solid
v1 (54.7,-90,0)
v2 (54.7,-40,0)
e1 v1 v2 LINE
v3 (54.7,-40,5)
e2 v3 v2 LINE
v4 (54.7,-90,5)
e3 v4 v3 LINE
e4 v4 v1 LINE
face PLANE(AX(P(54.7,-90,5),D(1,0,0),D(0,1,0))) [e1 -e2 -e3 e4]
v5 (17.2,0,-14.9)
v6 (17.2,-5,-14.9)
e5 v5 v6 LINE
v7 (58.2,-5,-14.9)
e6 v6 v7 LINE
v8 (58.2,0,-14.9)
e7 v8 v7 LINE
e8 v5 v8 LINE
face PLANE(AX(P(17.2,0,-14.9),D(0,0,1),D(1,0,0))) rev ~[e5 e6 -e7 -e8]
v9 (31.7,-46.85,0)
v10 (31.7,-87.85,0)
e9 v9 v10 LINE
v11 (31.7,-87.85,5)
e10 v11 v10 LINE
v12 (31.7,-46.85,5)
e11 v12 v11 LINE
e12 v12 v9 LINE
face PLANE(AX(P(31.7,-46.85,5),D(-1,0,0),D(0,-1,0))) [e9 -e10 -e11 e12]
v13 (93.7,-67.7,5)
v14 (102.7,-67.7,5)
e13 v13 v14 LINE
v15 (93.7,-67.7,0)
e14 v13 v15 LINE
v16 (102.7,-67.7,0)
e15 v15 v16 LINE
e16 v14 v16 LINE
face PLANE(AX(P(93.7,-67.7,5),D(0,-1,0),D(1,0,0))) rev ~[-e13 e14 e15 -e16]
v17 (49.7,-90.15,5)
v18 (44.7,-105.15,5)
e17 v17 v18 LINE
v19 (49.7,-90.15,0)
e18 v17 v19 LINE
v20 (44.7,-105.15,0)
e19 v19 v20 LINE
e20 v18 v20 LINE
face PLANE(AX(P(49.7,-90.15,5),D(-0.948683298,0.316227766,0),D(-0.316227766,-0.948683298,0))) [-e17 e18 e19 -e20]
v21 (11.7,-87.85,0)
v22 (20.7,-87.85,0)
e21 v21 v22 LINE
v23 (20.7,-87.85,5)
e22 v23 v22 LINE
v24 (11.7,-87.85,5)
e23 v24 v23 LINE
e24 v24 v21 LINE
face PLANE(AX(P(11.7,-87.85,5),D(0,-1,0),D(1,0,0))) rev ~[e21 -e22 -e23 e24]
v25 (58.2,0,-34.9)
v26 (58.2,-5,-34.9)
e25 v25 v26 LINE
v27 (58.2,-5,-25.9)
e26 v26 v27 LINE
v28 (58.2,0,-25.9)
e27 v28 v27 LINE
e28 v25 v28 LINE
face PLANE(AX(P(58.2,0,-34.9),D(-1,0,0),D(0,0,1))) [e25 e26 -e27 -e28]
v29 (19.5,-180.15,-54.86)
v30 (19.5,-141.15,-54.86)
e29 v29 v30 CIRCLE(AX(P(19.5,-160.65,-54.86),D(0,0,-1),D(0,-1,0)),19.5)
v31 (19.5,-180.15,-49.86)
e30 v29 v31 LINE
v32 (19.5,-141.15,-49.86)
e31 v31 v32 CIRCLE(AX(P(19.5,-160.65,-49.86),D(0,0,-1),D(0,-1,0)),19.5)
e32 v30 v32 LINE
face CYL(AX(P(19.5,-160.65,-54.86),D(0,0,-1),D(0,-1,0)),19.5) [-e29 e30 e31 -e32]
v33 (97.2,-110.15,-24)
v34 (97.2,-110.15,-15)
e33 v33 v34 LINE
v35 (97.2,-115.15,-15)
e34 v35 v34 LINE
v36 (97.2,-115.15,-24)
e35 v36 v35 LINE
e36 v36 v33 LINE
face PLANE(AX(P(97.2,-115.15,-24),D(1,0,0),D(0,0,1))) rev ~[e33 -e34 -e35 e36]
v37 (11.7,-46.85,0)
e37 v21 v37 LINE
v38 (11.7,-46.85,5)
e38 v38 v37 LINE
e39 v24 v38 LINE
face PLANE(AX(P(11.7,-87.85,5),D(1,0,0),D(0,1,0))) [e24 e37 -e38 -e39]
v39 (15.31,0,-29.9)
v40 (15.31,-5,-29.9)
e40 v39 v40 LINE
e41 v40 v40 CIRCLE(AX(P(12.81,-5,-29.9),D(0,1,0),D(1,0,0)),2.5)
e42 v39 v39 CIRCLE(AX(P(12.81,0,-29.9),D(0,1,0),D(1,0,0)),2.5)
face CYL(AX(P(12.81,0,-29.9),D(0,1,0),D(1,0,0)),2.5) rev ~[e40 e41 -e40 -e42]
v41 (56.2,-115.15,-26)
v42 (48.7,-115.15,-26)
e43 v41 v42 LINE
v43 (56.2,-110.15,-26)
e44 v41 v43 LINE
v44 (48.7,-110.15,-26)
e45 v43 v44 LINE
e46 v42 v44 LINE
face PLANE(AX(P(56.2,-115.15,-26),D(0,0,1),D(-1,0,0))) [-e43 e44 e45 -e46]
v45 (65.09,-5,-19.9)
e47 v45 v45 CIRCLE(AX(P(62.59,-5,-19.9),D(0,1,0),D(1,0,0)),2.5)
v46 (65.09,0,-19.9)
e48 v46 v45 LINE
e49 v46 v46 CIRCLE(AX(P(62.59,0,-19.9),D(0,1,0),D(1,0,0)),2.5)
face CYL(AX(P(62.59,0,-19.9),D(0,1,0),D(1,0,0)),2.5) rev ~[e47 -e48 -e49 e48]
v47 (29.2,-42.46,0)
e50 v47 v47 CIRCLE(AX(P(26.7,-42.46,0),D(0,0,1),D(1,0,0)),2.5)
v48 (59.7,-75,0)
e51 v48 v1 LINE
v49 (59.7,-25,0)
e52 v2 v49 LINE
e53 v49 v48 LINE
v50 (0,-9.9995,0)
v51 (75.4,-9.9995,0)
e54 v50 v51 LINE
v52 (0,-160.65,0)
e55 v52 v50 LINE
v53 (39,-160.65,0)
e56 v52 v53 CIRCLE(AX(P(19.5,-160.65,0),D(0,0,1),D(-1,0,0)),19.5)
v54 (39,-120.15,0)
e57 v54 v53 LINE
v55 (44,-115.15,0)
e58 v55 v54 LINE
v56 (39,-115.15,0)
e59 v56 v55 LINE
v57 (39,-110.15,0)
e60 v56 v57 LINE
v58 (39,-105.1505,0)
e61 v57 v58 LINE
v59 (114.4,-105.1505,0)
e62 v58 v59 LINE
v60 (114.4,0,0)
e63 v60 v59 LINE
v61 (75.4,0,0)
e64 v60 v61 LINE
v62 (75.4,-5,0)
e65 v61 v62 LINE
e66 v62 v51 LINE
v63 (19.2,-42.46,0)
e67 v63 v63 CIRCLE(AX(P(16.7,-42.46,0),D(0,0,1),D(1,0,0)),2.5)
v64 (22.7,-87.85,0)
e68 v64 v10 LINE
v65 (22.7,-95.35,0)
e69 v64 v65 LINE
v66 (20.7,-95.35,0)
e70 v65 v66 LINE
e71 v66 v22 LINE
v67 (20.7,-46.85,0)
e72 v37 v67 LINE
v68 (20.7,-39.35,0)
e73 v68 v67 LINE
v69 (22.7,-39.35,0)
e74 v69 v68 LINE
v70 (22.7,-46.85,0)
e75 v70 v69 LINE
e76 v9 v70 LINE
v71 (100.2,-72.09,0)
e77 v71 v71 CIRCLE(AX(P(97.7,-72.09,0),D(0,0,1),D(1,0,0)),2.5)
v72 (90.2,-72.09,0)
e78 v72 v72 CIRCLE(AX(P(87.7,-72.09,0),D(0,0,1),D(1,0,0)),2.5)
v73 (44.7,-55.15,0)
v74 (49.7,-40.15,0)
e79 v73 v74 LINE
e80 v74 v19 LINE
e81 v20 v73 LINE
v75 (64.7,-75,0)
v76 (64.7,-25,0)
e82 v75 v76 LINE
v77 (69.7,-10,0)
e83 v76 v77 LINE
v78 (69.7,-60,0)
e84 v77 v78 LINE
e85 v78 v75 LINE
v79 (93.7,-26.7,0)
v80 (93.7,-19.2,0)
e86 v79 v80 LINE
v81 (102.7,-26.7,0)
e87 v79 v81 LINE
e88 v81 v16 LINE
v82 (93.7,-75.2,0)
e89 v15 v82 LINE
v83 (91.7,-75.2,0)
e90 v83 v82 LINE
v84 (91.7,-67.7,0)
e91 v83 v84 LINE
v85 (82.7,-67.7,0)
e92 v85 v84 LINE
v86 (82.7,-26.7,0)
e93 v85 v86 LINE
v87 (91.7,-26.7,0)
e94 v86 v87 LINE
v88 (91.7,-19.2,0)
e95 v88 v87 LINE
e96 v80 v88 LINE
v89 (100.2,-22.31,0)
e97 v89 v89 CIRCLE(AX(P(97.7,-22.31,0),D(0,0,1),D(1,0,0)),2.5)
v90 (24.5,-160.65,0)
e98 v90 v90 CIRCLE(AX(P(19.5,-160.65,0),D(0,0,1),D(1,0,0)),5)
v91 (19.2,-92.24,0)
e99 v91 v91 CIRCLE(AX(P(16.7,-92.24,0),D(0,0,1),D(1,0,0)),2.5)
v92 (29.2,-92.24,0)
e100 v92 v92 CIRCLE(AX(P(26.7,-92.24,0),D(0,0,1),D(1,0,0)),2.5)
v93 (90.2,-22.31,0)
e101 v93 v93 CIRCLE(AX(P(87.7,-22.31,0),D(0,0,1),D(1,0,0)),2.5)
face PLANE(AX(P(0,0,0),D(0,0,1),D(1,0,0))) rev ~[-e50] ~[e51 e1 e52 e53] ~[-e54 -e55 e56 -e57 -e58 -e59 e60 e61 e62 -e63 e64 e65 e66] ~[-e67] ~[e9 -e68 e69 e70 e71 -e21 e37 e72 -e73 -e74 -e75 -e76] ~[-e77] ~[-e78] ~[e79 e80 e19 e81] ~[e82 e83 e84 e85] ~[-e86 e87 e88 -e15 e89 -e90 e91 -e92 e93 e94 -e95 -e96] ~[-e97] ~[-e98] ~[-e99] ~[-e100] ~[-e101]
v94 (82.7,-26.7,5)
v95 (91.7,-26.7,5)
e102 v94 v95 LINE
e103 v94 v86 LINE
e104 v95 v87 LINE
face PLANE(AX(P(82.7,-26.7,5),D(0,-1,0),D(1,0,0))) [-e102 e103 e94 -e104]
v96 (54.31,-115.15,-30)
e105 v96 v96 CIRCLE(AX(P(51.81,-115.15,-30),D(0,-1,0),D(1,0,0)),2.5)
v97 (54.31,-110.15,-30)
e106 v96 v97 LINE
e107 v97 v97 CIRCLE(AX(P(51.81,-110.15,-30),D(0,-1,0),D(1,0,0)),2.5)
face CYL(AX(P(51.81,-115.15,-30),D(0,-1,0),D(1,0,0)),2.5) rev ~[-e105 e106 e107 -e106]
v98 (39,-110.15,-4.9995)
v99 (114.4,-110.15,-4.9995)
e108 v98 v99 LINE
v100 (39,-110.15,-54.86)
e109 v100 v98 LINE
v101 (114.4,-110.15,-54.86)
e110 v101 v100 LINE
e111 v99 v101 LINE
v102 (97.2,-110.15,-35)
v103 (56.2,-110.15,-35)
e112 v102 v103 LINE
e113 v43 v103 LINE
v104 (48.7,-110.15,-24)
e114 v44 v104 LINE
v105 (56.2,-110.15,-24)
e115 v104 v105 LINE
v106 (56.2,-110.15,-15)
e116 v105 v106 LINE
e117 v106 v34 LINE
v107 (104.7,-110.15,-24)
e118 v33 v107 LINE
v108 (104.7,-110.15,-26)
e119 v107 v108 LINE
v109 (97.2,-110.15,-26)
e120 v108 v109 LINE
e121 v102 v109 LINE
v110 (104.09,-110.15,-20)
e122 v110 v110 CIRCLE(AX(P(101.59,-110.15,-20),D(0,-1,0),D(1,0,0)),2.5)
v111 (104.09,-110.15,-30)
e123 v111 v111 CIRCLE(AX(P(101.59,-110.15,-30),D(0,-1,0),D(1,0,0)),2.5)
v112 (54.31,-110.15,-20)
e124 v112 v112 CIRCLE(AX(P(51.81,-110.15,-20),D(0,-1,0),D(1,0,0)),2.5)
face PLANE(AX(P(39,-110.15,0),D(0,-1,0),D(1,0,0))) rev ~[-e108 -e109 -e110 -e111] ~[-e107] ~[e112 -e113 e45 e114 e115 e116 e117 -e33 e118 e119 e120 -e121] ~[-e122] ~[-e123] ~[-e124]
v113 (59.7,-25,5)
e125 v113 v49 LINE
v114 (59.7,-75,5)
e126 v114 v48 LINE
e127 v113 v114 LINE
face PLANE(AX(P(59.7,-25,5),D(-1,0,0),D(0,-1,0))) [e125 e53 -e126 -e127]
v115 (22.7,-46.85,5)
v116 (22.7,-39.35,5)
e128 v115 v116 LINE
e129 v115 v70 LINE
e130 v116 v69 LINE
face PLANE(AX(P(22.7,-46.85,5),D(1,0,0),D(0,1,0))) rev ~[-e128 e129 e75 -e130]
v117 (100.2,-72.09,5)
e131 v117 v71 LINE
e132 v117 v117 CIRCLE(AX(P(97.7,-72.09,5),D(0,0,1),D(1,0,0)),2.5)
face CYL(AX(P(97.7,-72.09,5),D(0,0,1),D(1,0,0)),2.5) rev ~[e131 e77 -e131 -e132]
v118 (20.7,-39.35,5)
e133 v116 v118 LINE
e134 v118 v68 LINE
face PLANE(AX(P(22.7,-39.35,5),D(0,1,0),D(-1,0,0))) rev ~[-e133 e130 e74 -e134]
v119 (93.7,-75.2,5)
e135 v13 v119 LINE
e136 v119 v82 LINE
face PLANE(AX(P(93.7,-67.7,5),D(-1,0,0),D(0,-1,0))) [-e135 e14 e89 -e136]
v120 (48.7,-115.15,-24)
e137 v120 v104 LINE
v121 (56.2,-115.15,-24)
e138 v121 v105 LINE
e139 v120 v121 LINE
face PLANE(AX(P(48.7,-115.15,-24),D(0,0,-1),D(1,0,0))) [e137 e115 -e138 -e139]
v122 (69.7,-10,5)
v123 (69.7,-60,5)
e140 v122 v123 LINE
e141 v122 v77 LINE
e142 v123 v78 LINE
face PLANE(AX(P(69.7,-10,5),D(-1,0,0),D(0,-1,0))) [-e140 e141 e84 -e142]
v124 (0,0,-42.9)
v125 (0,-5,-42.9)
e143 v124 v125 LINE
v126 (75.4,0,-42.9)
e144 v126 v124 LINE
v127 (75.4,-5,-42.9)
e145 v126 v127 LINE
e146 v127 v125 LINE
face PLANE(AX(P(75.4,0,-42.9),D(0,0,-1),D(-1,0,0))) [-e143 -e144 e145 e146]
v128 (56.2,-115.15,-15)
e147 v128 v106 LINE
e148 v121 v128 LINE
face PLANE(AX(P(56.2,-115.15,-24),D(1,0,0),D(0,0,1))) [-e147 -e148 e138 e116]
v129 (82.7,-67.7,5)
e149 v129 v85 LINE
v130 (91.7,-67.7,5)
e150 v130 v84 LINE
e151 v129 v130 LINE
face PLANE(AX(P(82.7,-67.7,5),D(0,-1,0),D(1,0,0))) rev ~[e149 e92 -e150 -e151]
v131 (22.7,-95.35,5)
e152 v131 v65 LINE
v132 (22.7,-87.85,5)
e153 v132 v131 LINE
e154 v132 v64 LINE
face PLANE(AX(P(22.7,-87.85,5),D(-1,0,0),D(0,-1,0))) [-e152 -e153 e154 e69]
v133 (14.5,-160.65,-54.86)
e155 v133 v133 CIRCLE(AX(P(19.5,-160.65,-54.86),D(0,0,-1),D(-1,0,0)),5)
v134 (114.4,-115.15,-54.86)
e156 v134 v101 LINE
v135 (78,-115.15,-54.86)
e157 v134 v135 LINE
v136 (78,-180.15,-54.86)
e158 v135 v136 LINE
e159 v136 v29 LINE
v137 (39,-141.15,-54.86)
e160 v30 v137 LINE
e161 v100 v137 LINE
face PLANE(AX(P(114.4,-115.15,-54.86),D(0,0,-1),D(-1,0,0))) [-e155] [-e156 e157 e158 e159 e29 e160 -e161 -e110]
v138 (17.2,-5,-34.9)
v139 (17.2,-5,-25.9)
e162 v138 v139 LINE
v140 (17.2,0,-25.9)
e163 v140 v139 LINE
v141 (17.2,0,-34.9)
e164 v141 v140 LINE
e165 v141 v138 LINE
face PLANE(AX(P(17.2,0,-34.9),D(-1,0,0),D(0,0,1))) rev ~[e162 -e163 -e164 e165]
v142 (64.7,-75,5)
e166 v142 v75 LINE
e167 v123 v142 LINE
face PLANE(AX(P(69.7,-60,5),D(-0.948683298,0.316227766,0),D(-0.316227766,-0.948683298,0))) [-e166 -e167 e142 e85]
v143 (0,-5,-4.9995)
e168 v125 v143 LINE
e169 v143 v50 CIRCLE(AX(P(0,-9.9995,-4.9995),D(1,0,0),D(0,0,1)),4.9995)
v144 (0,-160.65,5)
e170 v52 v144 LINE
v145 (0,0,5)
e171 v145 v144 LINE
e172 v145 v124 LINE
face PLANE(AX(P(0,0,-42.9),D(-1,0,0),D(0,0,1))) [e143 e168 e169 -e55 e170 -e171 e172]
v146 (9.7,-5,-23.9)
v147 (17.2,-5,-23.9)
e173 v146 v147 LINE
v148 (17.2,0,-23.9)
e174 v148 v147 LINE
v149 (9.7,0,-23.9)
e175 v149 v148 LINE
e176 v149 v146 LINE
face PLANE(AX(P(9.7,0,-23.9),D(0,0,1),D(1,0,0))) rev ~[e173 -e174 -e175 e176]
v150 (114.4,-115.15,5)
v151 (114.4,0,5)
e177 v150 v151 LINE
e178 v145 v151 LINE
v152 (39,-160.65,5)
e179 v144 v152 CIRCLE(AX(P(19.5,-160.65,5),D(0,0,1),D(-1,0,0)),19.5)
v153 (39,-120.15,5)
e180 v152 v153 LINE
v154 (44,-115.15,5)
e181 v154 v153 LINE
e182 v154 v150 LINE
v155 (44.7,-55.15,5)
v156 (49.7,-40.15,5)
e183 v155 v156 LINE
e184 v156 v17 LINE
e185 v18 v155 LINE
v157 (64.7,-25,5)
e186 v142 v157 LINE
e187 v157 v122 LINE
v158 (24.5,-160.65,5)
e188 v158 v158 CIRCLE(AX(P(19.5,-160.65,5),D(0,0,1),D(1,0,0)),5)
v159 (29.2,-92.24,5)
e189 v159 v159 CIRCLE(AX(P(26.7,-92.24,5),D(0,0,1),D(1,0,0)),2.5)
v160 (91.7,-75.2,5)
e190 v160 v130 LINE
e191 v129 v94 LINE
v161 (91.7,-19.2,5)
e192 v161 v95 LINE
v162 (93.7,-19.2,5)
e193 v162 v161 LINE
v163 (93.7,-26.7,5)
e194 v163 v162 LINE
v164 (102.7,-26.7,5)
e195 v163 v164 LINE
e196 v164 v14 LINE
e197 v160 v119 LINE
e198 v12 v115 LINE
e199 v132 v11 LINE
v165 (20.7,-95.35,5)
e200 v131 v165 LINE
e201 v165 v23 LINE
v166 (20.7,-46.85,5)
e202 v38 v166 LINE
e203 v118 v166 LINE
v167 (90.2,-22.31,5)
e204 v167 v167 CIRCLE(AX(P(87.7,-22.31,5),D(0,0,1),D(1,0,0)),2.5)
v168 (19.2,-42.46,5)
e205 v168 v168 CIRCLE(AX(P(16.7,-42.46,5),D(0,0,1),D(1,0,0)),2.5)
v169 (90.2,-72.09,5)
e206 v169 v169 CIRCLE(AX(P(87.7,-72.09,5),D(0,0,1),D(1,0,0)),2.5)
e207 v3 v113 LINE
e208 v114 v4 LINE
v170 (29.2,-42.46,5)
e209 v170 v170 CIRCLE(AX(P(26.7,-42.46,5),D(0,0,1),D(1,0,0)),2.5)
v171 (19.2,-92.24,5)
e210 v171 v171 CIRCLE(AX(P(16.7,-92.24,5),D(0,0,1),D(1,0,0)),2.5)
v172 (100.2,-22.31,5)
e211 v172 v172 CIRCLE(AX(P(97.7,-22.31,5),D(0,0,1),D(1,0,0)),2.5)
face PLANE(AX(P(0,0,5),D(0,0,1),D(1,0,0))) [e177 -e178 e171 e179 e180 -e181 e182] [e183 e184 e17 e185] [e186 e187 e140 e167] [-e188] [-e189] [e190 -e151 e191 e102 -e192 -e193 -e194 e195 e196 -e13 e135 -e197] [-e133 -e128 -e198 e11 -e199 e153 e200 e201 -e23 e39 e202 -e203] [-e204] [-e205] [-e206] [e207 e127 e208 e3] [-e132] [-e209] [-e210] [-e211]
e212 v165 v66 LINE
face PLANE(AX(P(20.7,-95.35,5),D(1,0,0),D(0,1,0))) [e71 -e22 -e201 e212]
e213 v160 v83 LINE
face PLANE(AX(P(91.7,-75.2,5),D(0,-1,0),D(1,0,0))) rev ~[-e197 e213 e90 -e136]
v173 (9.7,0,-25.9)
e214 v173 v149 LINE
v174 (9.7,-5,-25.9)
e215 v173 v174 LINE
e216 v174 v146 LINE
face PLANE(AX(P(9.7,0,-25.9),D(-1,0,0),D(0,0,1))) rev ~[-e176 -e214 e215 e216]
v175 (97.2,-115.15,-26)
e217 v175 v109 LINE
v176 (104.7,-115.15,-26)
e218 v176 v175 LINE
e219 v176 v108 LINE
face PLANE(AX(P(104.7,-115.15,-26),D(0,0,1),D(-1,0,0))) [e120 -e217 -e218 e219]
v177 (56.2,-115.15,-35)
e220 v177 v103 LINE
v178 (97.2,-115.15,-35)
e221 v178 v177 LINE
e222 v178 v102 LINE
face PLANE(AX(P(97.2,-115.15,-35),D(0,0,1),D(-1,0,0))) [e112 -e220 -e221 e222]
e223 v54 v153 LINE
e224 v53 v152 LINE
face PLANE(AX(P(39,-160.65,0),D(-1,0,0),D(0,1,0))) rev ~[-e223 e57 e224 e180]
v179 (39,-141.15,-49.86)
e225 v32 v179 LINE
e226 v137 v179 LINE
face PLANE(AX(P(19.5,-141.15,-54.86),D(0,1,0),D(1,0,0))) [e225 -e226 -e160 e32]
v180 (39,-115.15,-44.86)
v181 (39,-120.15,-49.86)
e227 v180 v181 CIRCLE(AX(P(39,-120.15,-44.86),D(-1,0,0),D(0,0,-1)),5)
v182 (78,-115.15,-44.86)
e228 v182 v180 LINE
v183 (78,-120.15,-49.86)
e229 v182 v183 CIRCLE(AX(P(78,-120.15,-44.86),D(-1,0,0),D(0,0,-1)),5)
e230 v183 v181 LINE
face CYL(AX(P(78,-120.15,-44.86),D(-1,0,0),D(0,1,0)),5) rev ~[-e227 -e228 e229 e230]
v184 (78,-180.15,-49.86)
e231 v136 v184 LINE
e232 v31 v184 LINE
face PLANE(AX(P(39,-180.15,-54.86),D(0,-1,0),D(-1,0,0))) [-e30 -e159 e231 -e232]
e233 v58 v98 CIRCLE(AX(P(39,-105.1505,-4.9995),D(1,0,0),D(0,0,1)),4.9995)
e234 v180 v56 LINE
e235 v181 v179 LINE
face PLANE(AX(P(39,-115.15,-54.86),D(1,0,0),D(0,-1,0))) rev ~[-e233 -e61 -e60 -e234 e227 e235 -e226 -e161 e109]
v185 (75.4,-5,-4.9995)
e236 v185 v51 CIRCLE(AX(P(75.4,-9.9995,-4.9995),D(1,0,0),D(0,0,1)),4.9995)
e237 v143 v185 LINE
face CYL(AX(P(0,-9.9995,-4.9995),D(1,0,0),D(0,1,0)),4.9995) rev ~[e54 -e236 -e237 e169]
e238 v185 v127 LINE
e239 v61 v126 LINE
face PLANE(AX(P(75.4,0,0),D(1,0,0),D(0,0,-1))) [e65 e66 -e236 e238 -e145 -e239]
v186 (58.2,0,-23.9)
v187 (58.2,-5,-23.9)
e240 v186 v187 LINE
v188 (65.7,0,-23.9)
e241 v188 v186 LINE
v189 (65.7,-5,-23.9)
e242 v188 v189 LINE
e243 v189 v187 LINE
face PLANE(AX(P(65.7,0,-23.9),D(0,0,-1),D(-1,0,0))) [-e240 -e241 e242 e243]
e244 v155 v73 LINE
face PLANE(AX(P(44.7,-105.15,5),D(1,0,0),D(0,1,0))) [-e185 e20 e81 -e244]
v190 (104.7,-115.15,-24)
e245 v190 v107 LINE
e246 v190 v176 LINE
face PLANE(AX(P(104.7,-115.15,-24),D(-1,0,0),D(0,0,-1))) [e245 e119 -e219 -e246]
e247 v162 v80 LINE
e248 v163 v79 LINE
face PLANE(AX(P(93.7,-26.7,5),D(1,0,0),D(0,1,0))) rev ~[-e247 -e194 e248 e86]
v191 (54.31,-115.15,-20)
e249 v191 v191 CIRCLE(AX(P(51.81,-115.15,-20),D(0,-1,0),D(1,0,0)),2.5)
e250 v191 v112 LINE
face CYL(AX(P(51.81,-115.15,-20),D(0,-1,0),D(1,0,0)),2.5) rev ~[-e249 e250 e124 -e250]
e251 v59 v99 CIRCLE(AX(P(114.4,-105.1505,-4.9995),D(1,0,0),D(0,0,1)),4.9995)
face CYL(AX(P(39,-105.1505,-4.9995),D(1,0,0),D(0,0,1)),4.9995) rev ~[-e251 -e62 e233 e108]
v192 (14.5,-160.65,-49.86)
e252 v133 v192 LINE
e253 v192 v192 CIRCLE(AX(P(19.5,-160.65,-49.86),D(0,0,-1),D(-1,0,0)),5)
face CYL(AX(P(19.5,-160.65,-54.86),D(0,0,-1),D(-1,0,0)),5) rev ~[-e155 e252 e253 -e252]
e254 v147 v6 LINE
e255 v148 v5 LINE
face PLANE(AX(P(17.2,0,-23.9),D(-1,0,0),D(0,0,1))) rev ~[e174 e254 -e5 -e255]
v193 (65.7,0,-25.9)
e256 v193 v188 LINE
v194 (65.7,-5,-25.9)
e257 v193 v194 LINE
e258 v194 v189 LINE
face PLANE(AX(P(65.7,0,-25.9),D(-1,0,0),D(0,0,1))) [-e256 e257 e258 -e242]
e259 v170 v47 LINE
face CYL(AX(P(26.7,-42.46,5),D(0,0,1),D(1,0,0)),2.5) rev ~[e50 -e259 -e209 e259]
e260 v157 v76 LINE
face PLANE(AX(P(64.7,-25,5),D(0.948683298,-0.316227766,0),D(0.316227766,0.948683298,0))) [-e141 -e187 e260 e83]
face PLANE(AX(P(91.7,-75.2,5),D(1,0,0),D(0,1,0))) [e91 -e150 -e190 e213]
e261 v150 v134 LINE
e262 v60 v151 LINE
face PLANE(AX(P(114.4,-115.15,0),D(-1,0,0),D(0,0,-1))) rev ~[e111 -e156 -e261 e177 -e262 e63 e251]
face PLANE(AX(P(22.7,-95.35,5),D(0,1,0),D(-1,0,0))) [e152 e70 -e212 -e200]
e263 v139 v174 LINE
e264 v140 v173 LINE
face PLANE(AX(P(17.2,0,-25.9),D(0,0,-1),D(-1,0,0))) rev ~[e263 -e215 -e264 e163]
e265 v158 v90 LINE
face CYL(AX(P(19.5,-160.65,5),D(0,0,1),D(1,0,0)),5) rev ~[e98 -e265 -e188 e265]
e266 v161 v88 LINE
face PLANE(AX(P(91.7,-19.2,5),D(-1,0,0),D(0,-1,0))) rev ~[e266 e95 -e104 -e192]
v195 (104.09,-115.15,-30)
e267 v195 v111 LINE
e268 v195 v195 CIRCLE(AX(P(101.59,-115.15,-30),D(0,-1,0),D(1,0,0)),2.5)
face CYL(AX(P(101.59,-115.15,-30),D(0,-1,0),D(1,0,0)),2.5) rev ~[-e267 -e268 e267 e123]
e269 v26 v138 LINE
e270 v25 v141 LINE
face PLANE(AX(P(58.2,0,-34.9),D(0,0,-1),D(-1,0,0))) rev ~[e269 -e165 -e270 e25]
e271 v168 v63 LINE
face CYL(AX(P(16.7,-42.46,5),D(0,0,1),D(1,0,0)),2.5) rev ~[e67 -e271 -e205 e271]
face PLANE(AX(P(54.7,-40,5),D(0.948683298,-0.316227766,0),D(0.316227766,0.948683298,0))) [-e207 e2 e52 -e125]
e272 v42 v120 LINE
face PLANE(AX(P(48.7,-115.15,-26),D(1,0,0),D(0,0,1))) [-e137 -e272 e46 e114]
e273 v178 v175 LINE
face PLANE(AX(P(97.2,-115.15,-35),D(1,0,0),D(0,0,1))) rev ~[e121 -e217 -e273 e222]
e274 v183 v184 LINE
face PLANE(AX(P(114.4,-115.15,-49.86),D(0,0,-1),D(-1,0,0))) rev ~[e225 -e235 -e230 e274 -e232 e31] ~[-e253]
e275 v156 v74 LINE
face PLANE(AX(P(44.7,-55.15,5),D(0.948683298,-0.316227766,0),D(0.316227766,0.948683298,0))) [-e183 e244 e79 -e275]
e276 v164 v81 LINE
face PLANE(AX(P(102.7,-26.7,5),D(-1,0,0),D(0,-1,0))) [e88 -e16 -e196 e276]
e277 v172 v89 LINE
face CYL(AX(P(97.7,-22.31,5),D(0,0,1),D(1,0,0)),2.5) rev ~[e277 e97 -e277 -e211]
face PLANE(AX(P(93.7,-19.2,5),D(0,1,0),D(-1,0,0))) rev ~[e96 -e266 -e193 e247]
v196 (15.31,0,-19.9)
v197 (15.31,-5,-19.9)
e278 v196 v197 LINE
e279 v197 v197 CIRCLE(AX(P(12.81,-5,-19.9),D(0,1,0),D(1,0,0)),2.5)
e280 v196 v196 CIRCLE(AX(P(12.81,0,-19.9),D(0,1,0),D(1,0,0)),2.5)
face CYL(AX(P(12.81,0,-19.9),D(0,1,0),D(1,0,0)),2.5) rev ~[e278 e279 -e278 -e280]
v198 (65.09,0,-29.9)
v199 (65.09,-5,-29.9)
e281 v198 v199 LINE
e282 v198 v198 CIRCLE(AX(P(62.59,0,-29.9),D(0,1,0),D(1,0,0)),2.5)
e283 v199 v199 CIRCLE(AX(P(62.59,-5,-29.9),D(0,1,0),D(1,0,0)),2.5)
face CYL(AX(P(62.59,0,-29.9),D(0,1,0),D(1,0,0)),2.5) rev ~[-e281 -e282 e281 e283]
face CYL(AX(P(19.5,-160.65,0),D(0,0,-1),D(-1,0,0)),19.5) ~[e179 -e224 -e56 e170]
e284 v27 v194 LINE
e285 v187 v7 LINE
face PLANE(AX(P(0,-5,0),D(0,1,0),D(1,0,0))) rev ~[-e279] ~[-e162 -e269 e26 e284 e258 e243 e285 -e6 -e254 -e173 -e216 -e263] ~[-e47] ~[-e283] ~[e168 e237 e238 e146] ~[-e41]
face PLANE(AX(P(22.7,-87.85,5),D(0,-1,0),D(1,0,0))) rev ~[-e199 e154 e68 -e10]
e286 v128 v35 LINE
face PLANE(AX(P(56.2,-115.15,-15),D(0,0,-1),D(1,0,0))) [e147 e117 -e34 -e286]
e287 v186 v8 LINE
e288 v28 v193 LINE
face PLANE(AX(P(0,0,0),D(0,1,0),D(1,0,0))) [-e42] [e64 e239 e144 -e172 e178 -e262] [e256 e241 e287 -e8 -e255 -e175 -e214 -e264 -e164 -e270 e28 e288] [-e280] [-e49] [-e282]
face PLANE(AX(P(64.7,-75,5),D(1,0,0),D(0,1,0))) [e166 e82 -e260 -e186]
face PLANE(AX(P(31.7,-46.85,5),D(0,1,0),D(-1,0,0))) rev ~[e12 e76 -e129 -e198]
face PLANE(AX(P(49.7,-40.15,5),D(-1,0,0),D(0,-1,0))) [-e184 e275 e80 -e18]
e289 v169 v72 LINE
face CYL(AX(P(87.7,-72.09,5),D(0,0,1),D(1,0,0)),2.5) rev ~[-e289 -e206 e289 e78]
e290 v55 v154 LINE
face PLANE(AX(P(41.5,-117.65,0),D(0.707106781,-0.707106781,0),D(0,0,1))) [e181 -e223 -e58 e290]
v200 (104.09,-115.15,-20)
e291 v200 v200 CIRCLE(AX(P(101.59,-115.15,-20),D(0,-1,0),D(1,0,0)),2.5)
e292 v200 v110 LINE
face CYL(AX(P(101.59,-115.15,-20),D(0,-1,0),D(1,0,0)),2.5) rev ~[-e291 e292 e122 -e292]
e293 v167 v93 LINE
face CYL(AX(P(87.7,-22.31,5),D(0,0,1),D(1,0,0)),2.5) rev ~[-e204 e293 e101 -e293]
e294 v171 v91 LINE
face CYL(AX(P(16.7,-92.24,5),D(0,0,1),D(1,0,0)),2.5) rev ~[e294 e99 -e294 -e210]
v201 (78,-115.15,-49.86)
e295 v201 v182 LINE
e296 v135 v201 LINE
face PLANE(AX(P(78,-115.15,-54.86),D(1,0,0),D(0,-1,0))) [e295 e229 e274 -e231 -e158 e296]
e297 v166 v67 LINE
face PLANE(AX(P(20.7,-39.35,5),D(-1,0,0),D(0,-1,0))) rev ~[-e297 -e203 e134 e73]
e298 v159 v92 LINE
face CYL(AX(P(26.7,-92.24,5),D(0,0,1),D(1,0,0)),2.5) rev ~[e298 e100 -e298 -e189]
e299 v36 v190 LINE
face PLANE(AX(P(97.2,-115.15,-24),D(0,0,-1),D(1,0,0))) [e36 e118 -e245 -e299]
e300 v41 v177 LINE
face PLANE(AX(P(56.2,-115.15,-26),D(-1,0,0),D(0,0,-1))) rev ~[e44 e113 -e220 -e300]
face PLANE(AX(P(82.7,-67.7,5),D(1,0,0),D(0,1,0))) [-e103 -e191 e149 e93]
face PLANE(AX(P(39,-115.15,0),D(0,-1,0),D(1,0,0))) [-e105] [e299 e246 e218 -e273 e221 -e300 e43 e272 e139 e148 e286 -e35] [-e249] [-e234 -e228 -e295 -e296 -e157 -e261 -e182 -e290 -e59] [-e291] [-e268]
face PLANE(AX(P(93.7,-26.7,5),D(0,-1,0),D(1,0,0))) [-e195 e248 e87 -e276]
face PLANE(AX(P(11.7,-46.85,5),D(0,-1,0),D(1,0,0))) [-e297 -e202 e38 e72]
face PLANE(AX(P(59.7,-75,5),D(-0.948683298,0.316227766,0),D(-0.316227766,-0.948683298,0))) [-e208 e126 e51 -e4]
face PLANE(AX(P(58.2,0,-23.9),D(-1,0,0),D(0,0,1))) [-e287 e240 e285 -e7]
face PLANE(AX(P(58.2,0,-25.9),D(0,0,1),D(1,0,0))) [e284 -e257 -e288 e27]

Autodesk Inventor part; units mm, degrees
ref_plane "YZ Plane" through (0, 0, 0) normal (1, 0, 0) x (0, 1, 0)
ref_plane "XZ Plane" through (0, 0, 0) normal (0, 1, 0) x (-1, 0, 0)
ref_plane "XY Plane" through (0, 0, 0) normal (0, 0, 1) x (1, 0, 0)
sketch "Esquisse1" plane through (0, 0, 0) normal (0, 0, 1) x (1, 0, 0)
  line L0 (10, 0) -> (104.4, 0)
  line L1 (114.4, -10) -> (114.4, -105.15)
  line L2 (104.4, -115.15) -> (49, -115.15)
  line L3 (0, -115.15) -> (0, -10)
  line L4 (0, -115.15) -> (0, -160.65)
  line L5 (39, -160.65) -> (39, -125.15)
  arc A0 (0, -160.65) -> (39, -160.65) centre (19.5, -160.65) ccw
  line L6 (0, -10) -> (0, 0)
  line L7 (10, 0) -> (0, 0)
  line L8 (114.4, -10) -> (114.4, 0)
  line L9 (114.4, 0) -> (104.4, 0)
  line L10 (114.4, -105.15) -> (114.4, -115.15)
  line L11 (104.4, -115.15) -> (114.4, -115.15)
  line L12 (39, -125.15) -> (39, -115.15)
  line L13 (49, -115.15) -> (39, -115.15)
  dimension "d0" = 39
  dimension "d1" = 114.4
  dimension "d2" = 45.5
  dimension "d3" = 115.15
extrude "Extrusion1" add sketch "Esquisse1" along normal blind 5
sketch "Esquisse2" plane through (0, 0, 5) normal (0, 0, 1) x (1, 0, 0)
  line L0 (31.7, -46.85) -> (31.7, -87.85)
  line L1 (11.7, -87.85) -> (11.7, -46.85)
  line L2 (102.7, -26.7) -> (102.7, -67.7)
  line L3 (82.7, -67.7) -> (82.7, -26.7)
  line L4 (0, 0) -> (0, -160.65) projected
  line L5 (114.4, -115.15) -> (114.4, 0) projected
  circle A0 centre (16.7, -42.46) radius 2.5
  circle A1 centre (26.7, -42.46) radius 2.5
  circle A2 centre (16.7, -92.24) radius 2.5
  circle A3 centre (26.7, -92.24) radius 2.5
  circle A4 centre (87.7, -72.09) radius 2.5
  circle A5 centre (97.7, -72.09) radius 2.5
  circle A6 centre (87.7, -22.31) radius 2.5
  circle A7 centre (97.7, -22.31) radius 2.5
  circle A8 centre (19.5, -160.65) radius 5
  line L6 (114.4, 0) -> (0, 0) projected
  line L7 (39, -115.15) -> (114.4, -115.15) projected
  line L8 (22.7, -46.85) -> (22.7, -39.35)
  line L9 (22.7, -39.35) -> (20.7, -39.35)
  line L10 (20.7, -39.35) -> (20.7, -46.85)
  line L11 (93.7, -67.7) -> (93.7, -75.2)
  line L12 (91.7, -75.2) -> (91.7, -67.7)
  line L13 (93.7, -26.7) -> (93.7, -19.2)
  line L14 (93.7, -19.2) -> (91.7, -19.2)
  line L15 (91.7, -19.2) -> (91.7, -26.7)
  line L16 (11.7, -46.85) -> (20.7, -46.85)
  line L17 (31.7, -46.85) -> (22.7, -46.85)
  line L18 (22.7, -87.85) -> (22.7, -95.35)
  line L19 (22.7, -95.35) -> (20.7, -95.35)
  line L20 (20.7, -95.35) -> (20.7, -87.85)
  line L21 (11.7, -87.85) -> (20.7, -87.85)
  line L22 (22.7, -87.85) -> (31.7, -87.85)
  line L23 (82.7, -26.7) -> (91.7, -26.7)
  line L24 (93.7, -26.7) -> (102.7, -26.7)
  line L25 (82.7, -67.7) -> (91.7, -67.7)
  line L26 (93.7, -67.7) -> (102.7, -67.7)
  line L27 (91.7, -75.2) -> (93.7, -75.2)
  point P0 (0, -10)
  point P1 (114.4, -105.15)
  point P2 (114.4, -10)
  point P3 (39, -160.65)
  point P4 (104.4, 0)
  point P5 (10, 0)
  point P6 (49, -115.15)
  point P7 (104.4, -115.15)
  dimension "d7" = 11.7
  dimension "d8" = 11.7
  dimension "d9" = 20
  dimension "d10" = 20
  dimension "d11" = 41
  dimension "d12" = 41
  dimension "d13" = 10
  dimension "d14" = 19.5
  dimension "d16" = 5
  dimension "d18" = 5
  dimension "d20" = 10
  dimension "d21" = 5
  dimension "d22" = 5
  dimension "d26" = 10
  dimension "d28" = 5
  dimension "d31" = 5
  dimension "d32" = 10
  dimension "d33" = 5
  dimension "d36" = 5
  dimension "d37" = 10
  dimension "d41" = 9
  dimension "d43" = 4.39
  dimension "d44" = 4.39
  dimension "d45" = 5
  dimension "d46" = 7.5
  dimension "d47" = 7.5
  dimension "d48" = 9
  dimension "d49" = 9
  dimension "d50" = 9
  dimension "d51" = 5
  dimension "d52" = 4.39
  dimension "d53" = 4.39
  dimension "d54" = 7.5
  dimension "d55" = 9
  dimension "d56" = 9
  dimension "d57" = 4.39
  dimension "d58" = 4.39
  dimension "d59" = 5
  dimension "d60" = 9
  dimension "d61" = 9
  dimension "d62" = 7.5
  dimension "d63" = 4.39
  dimension "d64" = 4.39
  dimension "d65" = 5
  dimension "d168" = 41
  dimension "d169" = 41
extrude "Extrusion2" cut sketch "Esquisse2" against normal blind 5
sketch "Esquisse3" plane through (39, -115.15, 0) normal (0, -1, 0) x (1, 0, 0)
  line L0 (0, 0) -> (75.4, 0) projected
  line L1 (0, 0) -> (75.4, 0)
  line L2 (75.4, 0) -> (75.4, -54.86)
  line L3 (75.4, -54.86) -> (0, -54.86)
  line L4 (0, -54.86) -> (0, 0)
  point P0 (-39, 0)
  dimension "d68" = 54.86
extrude "Extrusion3" add sketch "Esquisse3" against normal blind 5
sketch "Esquisse4" plane through (0, 0, 5) normal (0, 0, 1) x (1, 0, 0)
  line L0 (44.7, -55.15) -> (49.7, -40.15)
  line L1 (49.7, -40.15) -> (49.7, -90.15)
  line L2 (49.7, -90.15) -> (44.7, -105.15)
  line L3 (44.7, -105.15) -> (44.7, -55.15)
  line L4 (0, 0) -> (0, -160.65) projected
  line L5 (54.7, -40) -> (59.7, -25)
  line L6 (59.7, -25) -> (59.7, -75)
  line L7 (59.7, -75) -> (54.7, -90)
  line L8 (54.7, -90) -> (54.7, -40)
  line L9 (64.7, -25) -> (69.7, -10)
  line L10 (69.7, -10) -> (69.7, -60)
  line L11 (69.7, -60) -> (64.7, -75)
  line L12 (64.7, -75) -> (64.7, -25)
  line L13 (114.4, 0) -> (0, 0) projected
  line L14 (39, -115.15) -> (114.4, -115.15) projected
  dimension "d71" = 50
  dimension "d72" = 50
  dimension "d73" = 15
  dimension "d74" = 15
  dimension "d75" = 5
  dimension "d78" = 44.7
  dimension "d79" = 50
  dimension "d80" = 50
  dimension "d81" = 15
  dimension "d82" = 15
  dimension "d83" = 5
  dimension "d84" = 54.7
  dimension "d85" = 50
  dimension "d86" = 50
  dimension "d87" = 15
  dimension "d88" = 15
  dimension "d89" = 5
  dimension "d90" = 64.7
  dimension "d91" = 10
  dimension "d92" = 10
  dimension "d93" = 25
extrude "Extrusion4" cut sketch "Esquisse4" against normal blind 5
sketch "Esquisse5" plane through (39, -115.15, 5) normal (0, -1, 0) x (1, 0, 0)
  line L0 (17.2, -20) -> (58.2, -20)
  line L1 (58.2, -40) -> (17.2, -40)
  circle A0 centre (12.81, -25) radius 2.5
  circle A1 centre (12.81, -35) radius 2.5
  circle A2 centre (62.59, -25) radius 2.5
  circle A3 centre (62.59, -35) radius 2.5
  line L2 (0, 0) -> (75.4, 0) projected
  line L3 (0, -59.86) -> (0, -5) projected
  line L4 (17.2, -31) -> (9.7, -31)
  line L5 (9.7, -31) -> (9.7, -29)
  line L6 (9.7, -29) -> (17.2, -29)
  line L7 (58.2, -29) -> (65.7, -29)
  line L8 (65.7, -29) -> (65.7, -31)
  line L9 (65.7, -31) -> (58.2, -31)
  line L10 (17.2, -29) -> (17.2, -20)
  line L11 (17.2, -31) -> (17.2, -40)
  line L12 (58.2, -40) -> (58.2, -31)
  line L13 (58.2, -29) -> (58.2, -20)
  line L14 (75.4, -59.86) -> (75.4, 0) projected
  point P0 (-39, -5)
  dimension "d96" = 5
  dimension "d98" = 5
  dimension "d99" = 5
  dimension "d100" = 20
  dimension "d101" = 41
  dimension "d103" = 20
  dimension "d109" = 10
  dimension "d110" = 10
  dimension "d111" = 5
  dimension "d112" = 5
  dimension "d113" = 5
  dimension "d114" = 9
  dimension "d115" = 9
  dimension "d116" = 9
  dimension "d117" = 9
  dimension "d118" = 7.5
  dimension "d119" = 7.5
  dimension "d170" = 41
  dimension "d171" = 17.2
  dimension "d172" = 4.39
  dimension "d173" = 4.39
  dimension "d174" = 4.39
  dimension "d175" = 4.39
  dimension "d176" = 17.2
extrude "Extrusion5" cut sketch "Esquisse5" against normal blind 5
chamfer "Chanfrein1" distance 5 angle 45 1 edges at (39, -115.15, 2.5)
sketch "Esquisse7" plane through (114.4, -115.15, -54.86) normal (0, 0, -1) x (-1, 0, 0)
  line L0 (0, 0) -> (75.4, 0) projected
  line L1 (75.4, 0) -> (36.4, 0)
  line L2 (36.4, 0) -> (36.4, -65)
  line L3 (36.4, -65) -> (75.4, -65)
  line L4 (75.4, -65) -> (94.9, -65)
  arc A0 (94.9, -65) -> (94.9, -26) centre (94.9, -45.5) ccw
  line L5 (94.9, -26) -> (75.4, -26)
  line L6 (75.4, 0) -> (75.4, -26)
  point P0 (114.4, 115.15)
  dimension "d129" = 39
  dimension "d130" = 65
  dimension "d131" = 19.5
extrude "Extrusion6" add sketch "Esquisse7" against normal blind 5
sketch "Esquisse8" plane through (114.4, -110.15, -54.86) normal (0, 0, -1) x (-1, 0, 0)
  circle A0 centre (94.9, -50.5) radius 5 projected
  circle A1 centre (94.9, -50.5) radius 5
  point P0 (114.4, 110.15)
extrude "Extrusion7" cut sketch "Esquisse8" against normal blind 5
sketch "Esquisse9" plane through (0, 0, 0) normal (0, 1, 0) x (1, 0, 0)
  line L0 (0, 0) -> (75.4, 0)
  line L1 (75.4, 0) -> (75.4, 42.9)
  line L2 (75.4, 42.9) -> (0, 42.9)
  line L3 (0, 42.9) -> (0, 0)
  point P0 (114.4, 0)
  dimension "d137" = 39
  dimension "d138" = 42.9
extrude "Extrusion8" add sketch "Esquisse9" against normal blind 5
sketch "Esquisse10" plane through (0, 0, 5) normal (0, 1, 0) x (1, 0, 0)
  line L0 (58.2, 39.9) -> (17.2, 39.9)
  line L1 (17.2, 19.9) -> (58.2, 19.9)
  circle A0 centre (62.59, 34.9) radius 2.5
  circle A1 centre (62.59, 24.9) radius 2.5
  circle A2 centre (12.81, 34.9) radius 2.5
  circle A3 centre (12.81, 24.9) radius 2.5
  line L2 (75.4, 5) -> (75.4, 47.9) projected
  line L3 (58.2, 30.9) -> (65.7, 30.9)
  line L4 (65.7, 30.9) -> (65.7, 28.9)
  line L5 (65.7, 28.9) -> (58.2, 28.9)
  line L6 (17.2, 30.9) -> (9.7, 30.9)
  line L7 (9.7, 30.9) -> (9.7, 28.9)
  line L8 (9.7, 28.9) -> (17.2, 28.9)
  line L9 (58.2, 39.9) -> (58.2, 30.9)
  line L10 (58.2, 28.9) -> (58.2, 19.9)
  line L11 (17.2, 39.9) -> (17.2, 30.9)
  line L12 (17.2, 28.9) -> (17.2, 19.9)
  line L13 (0, 47.9) -> (0, 0) projected
  line L14 (75.4, 47.9) -> (0, 47.9) projected
  point P0 (0, 5)
  dimension "d141" = 41
  dimension "d142" = 20
  dimension "d143" = 5
  dimension "d144" = 5
  dimension "d145" = 5
  dimension "d146" = 5
  dimension "d151" = 10
  dimension "d152" = 5
  dimension "d154" = 10
  dimension "d156" = 5
  dimension "d157" = 9
  dimension "d158" = 9
  dimension "d159" = 7.5
  dimension "d160" = 7.5
  dimension "d161" = 17.2
  dimension "d162" = 17.2
  dimension "d163" = 4.39
  dimension "d164" = 17.2
  dimension "d167" = 8
  dimension "d177" = 4.39
  dimension "d178" = 4.39
  dimension "d179" = 4.39
extrude "Extrusion9" cut sketch "Esquisse10" against normal blind 5
fillet "Congé1" radius 5 1 edges at (37.7, -5, 0)
fillet "Congé2" radius 5 1 edges at (76.7, -110.15, 0)
fillet "Congé3" radius 5 1 edges at (58.5, -115.15, -49.86)
properties part number "Rbiceps" material "Plastique ABS"
